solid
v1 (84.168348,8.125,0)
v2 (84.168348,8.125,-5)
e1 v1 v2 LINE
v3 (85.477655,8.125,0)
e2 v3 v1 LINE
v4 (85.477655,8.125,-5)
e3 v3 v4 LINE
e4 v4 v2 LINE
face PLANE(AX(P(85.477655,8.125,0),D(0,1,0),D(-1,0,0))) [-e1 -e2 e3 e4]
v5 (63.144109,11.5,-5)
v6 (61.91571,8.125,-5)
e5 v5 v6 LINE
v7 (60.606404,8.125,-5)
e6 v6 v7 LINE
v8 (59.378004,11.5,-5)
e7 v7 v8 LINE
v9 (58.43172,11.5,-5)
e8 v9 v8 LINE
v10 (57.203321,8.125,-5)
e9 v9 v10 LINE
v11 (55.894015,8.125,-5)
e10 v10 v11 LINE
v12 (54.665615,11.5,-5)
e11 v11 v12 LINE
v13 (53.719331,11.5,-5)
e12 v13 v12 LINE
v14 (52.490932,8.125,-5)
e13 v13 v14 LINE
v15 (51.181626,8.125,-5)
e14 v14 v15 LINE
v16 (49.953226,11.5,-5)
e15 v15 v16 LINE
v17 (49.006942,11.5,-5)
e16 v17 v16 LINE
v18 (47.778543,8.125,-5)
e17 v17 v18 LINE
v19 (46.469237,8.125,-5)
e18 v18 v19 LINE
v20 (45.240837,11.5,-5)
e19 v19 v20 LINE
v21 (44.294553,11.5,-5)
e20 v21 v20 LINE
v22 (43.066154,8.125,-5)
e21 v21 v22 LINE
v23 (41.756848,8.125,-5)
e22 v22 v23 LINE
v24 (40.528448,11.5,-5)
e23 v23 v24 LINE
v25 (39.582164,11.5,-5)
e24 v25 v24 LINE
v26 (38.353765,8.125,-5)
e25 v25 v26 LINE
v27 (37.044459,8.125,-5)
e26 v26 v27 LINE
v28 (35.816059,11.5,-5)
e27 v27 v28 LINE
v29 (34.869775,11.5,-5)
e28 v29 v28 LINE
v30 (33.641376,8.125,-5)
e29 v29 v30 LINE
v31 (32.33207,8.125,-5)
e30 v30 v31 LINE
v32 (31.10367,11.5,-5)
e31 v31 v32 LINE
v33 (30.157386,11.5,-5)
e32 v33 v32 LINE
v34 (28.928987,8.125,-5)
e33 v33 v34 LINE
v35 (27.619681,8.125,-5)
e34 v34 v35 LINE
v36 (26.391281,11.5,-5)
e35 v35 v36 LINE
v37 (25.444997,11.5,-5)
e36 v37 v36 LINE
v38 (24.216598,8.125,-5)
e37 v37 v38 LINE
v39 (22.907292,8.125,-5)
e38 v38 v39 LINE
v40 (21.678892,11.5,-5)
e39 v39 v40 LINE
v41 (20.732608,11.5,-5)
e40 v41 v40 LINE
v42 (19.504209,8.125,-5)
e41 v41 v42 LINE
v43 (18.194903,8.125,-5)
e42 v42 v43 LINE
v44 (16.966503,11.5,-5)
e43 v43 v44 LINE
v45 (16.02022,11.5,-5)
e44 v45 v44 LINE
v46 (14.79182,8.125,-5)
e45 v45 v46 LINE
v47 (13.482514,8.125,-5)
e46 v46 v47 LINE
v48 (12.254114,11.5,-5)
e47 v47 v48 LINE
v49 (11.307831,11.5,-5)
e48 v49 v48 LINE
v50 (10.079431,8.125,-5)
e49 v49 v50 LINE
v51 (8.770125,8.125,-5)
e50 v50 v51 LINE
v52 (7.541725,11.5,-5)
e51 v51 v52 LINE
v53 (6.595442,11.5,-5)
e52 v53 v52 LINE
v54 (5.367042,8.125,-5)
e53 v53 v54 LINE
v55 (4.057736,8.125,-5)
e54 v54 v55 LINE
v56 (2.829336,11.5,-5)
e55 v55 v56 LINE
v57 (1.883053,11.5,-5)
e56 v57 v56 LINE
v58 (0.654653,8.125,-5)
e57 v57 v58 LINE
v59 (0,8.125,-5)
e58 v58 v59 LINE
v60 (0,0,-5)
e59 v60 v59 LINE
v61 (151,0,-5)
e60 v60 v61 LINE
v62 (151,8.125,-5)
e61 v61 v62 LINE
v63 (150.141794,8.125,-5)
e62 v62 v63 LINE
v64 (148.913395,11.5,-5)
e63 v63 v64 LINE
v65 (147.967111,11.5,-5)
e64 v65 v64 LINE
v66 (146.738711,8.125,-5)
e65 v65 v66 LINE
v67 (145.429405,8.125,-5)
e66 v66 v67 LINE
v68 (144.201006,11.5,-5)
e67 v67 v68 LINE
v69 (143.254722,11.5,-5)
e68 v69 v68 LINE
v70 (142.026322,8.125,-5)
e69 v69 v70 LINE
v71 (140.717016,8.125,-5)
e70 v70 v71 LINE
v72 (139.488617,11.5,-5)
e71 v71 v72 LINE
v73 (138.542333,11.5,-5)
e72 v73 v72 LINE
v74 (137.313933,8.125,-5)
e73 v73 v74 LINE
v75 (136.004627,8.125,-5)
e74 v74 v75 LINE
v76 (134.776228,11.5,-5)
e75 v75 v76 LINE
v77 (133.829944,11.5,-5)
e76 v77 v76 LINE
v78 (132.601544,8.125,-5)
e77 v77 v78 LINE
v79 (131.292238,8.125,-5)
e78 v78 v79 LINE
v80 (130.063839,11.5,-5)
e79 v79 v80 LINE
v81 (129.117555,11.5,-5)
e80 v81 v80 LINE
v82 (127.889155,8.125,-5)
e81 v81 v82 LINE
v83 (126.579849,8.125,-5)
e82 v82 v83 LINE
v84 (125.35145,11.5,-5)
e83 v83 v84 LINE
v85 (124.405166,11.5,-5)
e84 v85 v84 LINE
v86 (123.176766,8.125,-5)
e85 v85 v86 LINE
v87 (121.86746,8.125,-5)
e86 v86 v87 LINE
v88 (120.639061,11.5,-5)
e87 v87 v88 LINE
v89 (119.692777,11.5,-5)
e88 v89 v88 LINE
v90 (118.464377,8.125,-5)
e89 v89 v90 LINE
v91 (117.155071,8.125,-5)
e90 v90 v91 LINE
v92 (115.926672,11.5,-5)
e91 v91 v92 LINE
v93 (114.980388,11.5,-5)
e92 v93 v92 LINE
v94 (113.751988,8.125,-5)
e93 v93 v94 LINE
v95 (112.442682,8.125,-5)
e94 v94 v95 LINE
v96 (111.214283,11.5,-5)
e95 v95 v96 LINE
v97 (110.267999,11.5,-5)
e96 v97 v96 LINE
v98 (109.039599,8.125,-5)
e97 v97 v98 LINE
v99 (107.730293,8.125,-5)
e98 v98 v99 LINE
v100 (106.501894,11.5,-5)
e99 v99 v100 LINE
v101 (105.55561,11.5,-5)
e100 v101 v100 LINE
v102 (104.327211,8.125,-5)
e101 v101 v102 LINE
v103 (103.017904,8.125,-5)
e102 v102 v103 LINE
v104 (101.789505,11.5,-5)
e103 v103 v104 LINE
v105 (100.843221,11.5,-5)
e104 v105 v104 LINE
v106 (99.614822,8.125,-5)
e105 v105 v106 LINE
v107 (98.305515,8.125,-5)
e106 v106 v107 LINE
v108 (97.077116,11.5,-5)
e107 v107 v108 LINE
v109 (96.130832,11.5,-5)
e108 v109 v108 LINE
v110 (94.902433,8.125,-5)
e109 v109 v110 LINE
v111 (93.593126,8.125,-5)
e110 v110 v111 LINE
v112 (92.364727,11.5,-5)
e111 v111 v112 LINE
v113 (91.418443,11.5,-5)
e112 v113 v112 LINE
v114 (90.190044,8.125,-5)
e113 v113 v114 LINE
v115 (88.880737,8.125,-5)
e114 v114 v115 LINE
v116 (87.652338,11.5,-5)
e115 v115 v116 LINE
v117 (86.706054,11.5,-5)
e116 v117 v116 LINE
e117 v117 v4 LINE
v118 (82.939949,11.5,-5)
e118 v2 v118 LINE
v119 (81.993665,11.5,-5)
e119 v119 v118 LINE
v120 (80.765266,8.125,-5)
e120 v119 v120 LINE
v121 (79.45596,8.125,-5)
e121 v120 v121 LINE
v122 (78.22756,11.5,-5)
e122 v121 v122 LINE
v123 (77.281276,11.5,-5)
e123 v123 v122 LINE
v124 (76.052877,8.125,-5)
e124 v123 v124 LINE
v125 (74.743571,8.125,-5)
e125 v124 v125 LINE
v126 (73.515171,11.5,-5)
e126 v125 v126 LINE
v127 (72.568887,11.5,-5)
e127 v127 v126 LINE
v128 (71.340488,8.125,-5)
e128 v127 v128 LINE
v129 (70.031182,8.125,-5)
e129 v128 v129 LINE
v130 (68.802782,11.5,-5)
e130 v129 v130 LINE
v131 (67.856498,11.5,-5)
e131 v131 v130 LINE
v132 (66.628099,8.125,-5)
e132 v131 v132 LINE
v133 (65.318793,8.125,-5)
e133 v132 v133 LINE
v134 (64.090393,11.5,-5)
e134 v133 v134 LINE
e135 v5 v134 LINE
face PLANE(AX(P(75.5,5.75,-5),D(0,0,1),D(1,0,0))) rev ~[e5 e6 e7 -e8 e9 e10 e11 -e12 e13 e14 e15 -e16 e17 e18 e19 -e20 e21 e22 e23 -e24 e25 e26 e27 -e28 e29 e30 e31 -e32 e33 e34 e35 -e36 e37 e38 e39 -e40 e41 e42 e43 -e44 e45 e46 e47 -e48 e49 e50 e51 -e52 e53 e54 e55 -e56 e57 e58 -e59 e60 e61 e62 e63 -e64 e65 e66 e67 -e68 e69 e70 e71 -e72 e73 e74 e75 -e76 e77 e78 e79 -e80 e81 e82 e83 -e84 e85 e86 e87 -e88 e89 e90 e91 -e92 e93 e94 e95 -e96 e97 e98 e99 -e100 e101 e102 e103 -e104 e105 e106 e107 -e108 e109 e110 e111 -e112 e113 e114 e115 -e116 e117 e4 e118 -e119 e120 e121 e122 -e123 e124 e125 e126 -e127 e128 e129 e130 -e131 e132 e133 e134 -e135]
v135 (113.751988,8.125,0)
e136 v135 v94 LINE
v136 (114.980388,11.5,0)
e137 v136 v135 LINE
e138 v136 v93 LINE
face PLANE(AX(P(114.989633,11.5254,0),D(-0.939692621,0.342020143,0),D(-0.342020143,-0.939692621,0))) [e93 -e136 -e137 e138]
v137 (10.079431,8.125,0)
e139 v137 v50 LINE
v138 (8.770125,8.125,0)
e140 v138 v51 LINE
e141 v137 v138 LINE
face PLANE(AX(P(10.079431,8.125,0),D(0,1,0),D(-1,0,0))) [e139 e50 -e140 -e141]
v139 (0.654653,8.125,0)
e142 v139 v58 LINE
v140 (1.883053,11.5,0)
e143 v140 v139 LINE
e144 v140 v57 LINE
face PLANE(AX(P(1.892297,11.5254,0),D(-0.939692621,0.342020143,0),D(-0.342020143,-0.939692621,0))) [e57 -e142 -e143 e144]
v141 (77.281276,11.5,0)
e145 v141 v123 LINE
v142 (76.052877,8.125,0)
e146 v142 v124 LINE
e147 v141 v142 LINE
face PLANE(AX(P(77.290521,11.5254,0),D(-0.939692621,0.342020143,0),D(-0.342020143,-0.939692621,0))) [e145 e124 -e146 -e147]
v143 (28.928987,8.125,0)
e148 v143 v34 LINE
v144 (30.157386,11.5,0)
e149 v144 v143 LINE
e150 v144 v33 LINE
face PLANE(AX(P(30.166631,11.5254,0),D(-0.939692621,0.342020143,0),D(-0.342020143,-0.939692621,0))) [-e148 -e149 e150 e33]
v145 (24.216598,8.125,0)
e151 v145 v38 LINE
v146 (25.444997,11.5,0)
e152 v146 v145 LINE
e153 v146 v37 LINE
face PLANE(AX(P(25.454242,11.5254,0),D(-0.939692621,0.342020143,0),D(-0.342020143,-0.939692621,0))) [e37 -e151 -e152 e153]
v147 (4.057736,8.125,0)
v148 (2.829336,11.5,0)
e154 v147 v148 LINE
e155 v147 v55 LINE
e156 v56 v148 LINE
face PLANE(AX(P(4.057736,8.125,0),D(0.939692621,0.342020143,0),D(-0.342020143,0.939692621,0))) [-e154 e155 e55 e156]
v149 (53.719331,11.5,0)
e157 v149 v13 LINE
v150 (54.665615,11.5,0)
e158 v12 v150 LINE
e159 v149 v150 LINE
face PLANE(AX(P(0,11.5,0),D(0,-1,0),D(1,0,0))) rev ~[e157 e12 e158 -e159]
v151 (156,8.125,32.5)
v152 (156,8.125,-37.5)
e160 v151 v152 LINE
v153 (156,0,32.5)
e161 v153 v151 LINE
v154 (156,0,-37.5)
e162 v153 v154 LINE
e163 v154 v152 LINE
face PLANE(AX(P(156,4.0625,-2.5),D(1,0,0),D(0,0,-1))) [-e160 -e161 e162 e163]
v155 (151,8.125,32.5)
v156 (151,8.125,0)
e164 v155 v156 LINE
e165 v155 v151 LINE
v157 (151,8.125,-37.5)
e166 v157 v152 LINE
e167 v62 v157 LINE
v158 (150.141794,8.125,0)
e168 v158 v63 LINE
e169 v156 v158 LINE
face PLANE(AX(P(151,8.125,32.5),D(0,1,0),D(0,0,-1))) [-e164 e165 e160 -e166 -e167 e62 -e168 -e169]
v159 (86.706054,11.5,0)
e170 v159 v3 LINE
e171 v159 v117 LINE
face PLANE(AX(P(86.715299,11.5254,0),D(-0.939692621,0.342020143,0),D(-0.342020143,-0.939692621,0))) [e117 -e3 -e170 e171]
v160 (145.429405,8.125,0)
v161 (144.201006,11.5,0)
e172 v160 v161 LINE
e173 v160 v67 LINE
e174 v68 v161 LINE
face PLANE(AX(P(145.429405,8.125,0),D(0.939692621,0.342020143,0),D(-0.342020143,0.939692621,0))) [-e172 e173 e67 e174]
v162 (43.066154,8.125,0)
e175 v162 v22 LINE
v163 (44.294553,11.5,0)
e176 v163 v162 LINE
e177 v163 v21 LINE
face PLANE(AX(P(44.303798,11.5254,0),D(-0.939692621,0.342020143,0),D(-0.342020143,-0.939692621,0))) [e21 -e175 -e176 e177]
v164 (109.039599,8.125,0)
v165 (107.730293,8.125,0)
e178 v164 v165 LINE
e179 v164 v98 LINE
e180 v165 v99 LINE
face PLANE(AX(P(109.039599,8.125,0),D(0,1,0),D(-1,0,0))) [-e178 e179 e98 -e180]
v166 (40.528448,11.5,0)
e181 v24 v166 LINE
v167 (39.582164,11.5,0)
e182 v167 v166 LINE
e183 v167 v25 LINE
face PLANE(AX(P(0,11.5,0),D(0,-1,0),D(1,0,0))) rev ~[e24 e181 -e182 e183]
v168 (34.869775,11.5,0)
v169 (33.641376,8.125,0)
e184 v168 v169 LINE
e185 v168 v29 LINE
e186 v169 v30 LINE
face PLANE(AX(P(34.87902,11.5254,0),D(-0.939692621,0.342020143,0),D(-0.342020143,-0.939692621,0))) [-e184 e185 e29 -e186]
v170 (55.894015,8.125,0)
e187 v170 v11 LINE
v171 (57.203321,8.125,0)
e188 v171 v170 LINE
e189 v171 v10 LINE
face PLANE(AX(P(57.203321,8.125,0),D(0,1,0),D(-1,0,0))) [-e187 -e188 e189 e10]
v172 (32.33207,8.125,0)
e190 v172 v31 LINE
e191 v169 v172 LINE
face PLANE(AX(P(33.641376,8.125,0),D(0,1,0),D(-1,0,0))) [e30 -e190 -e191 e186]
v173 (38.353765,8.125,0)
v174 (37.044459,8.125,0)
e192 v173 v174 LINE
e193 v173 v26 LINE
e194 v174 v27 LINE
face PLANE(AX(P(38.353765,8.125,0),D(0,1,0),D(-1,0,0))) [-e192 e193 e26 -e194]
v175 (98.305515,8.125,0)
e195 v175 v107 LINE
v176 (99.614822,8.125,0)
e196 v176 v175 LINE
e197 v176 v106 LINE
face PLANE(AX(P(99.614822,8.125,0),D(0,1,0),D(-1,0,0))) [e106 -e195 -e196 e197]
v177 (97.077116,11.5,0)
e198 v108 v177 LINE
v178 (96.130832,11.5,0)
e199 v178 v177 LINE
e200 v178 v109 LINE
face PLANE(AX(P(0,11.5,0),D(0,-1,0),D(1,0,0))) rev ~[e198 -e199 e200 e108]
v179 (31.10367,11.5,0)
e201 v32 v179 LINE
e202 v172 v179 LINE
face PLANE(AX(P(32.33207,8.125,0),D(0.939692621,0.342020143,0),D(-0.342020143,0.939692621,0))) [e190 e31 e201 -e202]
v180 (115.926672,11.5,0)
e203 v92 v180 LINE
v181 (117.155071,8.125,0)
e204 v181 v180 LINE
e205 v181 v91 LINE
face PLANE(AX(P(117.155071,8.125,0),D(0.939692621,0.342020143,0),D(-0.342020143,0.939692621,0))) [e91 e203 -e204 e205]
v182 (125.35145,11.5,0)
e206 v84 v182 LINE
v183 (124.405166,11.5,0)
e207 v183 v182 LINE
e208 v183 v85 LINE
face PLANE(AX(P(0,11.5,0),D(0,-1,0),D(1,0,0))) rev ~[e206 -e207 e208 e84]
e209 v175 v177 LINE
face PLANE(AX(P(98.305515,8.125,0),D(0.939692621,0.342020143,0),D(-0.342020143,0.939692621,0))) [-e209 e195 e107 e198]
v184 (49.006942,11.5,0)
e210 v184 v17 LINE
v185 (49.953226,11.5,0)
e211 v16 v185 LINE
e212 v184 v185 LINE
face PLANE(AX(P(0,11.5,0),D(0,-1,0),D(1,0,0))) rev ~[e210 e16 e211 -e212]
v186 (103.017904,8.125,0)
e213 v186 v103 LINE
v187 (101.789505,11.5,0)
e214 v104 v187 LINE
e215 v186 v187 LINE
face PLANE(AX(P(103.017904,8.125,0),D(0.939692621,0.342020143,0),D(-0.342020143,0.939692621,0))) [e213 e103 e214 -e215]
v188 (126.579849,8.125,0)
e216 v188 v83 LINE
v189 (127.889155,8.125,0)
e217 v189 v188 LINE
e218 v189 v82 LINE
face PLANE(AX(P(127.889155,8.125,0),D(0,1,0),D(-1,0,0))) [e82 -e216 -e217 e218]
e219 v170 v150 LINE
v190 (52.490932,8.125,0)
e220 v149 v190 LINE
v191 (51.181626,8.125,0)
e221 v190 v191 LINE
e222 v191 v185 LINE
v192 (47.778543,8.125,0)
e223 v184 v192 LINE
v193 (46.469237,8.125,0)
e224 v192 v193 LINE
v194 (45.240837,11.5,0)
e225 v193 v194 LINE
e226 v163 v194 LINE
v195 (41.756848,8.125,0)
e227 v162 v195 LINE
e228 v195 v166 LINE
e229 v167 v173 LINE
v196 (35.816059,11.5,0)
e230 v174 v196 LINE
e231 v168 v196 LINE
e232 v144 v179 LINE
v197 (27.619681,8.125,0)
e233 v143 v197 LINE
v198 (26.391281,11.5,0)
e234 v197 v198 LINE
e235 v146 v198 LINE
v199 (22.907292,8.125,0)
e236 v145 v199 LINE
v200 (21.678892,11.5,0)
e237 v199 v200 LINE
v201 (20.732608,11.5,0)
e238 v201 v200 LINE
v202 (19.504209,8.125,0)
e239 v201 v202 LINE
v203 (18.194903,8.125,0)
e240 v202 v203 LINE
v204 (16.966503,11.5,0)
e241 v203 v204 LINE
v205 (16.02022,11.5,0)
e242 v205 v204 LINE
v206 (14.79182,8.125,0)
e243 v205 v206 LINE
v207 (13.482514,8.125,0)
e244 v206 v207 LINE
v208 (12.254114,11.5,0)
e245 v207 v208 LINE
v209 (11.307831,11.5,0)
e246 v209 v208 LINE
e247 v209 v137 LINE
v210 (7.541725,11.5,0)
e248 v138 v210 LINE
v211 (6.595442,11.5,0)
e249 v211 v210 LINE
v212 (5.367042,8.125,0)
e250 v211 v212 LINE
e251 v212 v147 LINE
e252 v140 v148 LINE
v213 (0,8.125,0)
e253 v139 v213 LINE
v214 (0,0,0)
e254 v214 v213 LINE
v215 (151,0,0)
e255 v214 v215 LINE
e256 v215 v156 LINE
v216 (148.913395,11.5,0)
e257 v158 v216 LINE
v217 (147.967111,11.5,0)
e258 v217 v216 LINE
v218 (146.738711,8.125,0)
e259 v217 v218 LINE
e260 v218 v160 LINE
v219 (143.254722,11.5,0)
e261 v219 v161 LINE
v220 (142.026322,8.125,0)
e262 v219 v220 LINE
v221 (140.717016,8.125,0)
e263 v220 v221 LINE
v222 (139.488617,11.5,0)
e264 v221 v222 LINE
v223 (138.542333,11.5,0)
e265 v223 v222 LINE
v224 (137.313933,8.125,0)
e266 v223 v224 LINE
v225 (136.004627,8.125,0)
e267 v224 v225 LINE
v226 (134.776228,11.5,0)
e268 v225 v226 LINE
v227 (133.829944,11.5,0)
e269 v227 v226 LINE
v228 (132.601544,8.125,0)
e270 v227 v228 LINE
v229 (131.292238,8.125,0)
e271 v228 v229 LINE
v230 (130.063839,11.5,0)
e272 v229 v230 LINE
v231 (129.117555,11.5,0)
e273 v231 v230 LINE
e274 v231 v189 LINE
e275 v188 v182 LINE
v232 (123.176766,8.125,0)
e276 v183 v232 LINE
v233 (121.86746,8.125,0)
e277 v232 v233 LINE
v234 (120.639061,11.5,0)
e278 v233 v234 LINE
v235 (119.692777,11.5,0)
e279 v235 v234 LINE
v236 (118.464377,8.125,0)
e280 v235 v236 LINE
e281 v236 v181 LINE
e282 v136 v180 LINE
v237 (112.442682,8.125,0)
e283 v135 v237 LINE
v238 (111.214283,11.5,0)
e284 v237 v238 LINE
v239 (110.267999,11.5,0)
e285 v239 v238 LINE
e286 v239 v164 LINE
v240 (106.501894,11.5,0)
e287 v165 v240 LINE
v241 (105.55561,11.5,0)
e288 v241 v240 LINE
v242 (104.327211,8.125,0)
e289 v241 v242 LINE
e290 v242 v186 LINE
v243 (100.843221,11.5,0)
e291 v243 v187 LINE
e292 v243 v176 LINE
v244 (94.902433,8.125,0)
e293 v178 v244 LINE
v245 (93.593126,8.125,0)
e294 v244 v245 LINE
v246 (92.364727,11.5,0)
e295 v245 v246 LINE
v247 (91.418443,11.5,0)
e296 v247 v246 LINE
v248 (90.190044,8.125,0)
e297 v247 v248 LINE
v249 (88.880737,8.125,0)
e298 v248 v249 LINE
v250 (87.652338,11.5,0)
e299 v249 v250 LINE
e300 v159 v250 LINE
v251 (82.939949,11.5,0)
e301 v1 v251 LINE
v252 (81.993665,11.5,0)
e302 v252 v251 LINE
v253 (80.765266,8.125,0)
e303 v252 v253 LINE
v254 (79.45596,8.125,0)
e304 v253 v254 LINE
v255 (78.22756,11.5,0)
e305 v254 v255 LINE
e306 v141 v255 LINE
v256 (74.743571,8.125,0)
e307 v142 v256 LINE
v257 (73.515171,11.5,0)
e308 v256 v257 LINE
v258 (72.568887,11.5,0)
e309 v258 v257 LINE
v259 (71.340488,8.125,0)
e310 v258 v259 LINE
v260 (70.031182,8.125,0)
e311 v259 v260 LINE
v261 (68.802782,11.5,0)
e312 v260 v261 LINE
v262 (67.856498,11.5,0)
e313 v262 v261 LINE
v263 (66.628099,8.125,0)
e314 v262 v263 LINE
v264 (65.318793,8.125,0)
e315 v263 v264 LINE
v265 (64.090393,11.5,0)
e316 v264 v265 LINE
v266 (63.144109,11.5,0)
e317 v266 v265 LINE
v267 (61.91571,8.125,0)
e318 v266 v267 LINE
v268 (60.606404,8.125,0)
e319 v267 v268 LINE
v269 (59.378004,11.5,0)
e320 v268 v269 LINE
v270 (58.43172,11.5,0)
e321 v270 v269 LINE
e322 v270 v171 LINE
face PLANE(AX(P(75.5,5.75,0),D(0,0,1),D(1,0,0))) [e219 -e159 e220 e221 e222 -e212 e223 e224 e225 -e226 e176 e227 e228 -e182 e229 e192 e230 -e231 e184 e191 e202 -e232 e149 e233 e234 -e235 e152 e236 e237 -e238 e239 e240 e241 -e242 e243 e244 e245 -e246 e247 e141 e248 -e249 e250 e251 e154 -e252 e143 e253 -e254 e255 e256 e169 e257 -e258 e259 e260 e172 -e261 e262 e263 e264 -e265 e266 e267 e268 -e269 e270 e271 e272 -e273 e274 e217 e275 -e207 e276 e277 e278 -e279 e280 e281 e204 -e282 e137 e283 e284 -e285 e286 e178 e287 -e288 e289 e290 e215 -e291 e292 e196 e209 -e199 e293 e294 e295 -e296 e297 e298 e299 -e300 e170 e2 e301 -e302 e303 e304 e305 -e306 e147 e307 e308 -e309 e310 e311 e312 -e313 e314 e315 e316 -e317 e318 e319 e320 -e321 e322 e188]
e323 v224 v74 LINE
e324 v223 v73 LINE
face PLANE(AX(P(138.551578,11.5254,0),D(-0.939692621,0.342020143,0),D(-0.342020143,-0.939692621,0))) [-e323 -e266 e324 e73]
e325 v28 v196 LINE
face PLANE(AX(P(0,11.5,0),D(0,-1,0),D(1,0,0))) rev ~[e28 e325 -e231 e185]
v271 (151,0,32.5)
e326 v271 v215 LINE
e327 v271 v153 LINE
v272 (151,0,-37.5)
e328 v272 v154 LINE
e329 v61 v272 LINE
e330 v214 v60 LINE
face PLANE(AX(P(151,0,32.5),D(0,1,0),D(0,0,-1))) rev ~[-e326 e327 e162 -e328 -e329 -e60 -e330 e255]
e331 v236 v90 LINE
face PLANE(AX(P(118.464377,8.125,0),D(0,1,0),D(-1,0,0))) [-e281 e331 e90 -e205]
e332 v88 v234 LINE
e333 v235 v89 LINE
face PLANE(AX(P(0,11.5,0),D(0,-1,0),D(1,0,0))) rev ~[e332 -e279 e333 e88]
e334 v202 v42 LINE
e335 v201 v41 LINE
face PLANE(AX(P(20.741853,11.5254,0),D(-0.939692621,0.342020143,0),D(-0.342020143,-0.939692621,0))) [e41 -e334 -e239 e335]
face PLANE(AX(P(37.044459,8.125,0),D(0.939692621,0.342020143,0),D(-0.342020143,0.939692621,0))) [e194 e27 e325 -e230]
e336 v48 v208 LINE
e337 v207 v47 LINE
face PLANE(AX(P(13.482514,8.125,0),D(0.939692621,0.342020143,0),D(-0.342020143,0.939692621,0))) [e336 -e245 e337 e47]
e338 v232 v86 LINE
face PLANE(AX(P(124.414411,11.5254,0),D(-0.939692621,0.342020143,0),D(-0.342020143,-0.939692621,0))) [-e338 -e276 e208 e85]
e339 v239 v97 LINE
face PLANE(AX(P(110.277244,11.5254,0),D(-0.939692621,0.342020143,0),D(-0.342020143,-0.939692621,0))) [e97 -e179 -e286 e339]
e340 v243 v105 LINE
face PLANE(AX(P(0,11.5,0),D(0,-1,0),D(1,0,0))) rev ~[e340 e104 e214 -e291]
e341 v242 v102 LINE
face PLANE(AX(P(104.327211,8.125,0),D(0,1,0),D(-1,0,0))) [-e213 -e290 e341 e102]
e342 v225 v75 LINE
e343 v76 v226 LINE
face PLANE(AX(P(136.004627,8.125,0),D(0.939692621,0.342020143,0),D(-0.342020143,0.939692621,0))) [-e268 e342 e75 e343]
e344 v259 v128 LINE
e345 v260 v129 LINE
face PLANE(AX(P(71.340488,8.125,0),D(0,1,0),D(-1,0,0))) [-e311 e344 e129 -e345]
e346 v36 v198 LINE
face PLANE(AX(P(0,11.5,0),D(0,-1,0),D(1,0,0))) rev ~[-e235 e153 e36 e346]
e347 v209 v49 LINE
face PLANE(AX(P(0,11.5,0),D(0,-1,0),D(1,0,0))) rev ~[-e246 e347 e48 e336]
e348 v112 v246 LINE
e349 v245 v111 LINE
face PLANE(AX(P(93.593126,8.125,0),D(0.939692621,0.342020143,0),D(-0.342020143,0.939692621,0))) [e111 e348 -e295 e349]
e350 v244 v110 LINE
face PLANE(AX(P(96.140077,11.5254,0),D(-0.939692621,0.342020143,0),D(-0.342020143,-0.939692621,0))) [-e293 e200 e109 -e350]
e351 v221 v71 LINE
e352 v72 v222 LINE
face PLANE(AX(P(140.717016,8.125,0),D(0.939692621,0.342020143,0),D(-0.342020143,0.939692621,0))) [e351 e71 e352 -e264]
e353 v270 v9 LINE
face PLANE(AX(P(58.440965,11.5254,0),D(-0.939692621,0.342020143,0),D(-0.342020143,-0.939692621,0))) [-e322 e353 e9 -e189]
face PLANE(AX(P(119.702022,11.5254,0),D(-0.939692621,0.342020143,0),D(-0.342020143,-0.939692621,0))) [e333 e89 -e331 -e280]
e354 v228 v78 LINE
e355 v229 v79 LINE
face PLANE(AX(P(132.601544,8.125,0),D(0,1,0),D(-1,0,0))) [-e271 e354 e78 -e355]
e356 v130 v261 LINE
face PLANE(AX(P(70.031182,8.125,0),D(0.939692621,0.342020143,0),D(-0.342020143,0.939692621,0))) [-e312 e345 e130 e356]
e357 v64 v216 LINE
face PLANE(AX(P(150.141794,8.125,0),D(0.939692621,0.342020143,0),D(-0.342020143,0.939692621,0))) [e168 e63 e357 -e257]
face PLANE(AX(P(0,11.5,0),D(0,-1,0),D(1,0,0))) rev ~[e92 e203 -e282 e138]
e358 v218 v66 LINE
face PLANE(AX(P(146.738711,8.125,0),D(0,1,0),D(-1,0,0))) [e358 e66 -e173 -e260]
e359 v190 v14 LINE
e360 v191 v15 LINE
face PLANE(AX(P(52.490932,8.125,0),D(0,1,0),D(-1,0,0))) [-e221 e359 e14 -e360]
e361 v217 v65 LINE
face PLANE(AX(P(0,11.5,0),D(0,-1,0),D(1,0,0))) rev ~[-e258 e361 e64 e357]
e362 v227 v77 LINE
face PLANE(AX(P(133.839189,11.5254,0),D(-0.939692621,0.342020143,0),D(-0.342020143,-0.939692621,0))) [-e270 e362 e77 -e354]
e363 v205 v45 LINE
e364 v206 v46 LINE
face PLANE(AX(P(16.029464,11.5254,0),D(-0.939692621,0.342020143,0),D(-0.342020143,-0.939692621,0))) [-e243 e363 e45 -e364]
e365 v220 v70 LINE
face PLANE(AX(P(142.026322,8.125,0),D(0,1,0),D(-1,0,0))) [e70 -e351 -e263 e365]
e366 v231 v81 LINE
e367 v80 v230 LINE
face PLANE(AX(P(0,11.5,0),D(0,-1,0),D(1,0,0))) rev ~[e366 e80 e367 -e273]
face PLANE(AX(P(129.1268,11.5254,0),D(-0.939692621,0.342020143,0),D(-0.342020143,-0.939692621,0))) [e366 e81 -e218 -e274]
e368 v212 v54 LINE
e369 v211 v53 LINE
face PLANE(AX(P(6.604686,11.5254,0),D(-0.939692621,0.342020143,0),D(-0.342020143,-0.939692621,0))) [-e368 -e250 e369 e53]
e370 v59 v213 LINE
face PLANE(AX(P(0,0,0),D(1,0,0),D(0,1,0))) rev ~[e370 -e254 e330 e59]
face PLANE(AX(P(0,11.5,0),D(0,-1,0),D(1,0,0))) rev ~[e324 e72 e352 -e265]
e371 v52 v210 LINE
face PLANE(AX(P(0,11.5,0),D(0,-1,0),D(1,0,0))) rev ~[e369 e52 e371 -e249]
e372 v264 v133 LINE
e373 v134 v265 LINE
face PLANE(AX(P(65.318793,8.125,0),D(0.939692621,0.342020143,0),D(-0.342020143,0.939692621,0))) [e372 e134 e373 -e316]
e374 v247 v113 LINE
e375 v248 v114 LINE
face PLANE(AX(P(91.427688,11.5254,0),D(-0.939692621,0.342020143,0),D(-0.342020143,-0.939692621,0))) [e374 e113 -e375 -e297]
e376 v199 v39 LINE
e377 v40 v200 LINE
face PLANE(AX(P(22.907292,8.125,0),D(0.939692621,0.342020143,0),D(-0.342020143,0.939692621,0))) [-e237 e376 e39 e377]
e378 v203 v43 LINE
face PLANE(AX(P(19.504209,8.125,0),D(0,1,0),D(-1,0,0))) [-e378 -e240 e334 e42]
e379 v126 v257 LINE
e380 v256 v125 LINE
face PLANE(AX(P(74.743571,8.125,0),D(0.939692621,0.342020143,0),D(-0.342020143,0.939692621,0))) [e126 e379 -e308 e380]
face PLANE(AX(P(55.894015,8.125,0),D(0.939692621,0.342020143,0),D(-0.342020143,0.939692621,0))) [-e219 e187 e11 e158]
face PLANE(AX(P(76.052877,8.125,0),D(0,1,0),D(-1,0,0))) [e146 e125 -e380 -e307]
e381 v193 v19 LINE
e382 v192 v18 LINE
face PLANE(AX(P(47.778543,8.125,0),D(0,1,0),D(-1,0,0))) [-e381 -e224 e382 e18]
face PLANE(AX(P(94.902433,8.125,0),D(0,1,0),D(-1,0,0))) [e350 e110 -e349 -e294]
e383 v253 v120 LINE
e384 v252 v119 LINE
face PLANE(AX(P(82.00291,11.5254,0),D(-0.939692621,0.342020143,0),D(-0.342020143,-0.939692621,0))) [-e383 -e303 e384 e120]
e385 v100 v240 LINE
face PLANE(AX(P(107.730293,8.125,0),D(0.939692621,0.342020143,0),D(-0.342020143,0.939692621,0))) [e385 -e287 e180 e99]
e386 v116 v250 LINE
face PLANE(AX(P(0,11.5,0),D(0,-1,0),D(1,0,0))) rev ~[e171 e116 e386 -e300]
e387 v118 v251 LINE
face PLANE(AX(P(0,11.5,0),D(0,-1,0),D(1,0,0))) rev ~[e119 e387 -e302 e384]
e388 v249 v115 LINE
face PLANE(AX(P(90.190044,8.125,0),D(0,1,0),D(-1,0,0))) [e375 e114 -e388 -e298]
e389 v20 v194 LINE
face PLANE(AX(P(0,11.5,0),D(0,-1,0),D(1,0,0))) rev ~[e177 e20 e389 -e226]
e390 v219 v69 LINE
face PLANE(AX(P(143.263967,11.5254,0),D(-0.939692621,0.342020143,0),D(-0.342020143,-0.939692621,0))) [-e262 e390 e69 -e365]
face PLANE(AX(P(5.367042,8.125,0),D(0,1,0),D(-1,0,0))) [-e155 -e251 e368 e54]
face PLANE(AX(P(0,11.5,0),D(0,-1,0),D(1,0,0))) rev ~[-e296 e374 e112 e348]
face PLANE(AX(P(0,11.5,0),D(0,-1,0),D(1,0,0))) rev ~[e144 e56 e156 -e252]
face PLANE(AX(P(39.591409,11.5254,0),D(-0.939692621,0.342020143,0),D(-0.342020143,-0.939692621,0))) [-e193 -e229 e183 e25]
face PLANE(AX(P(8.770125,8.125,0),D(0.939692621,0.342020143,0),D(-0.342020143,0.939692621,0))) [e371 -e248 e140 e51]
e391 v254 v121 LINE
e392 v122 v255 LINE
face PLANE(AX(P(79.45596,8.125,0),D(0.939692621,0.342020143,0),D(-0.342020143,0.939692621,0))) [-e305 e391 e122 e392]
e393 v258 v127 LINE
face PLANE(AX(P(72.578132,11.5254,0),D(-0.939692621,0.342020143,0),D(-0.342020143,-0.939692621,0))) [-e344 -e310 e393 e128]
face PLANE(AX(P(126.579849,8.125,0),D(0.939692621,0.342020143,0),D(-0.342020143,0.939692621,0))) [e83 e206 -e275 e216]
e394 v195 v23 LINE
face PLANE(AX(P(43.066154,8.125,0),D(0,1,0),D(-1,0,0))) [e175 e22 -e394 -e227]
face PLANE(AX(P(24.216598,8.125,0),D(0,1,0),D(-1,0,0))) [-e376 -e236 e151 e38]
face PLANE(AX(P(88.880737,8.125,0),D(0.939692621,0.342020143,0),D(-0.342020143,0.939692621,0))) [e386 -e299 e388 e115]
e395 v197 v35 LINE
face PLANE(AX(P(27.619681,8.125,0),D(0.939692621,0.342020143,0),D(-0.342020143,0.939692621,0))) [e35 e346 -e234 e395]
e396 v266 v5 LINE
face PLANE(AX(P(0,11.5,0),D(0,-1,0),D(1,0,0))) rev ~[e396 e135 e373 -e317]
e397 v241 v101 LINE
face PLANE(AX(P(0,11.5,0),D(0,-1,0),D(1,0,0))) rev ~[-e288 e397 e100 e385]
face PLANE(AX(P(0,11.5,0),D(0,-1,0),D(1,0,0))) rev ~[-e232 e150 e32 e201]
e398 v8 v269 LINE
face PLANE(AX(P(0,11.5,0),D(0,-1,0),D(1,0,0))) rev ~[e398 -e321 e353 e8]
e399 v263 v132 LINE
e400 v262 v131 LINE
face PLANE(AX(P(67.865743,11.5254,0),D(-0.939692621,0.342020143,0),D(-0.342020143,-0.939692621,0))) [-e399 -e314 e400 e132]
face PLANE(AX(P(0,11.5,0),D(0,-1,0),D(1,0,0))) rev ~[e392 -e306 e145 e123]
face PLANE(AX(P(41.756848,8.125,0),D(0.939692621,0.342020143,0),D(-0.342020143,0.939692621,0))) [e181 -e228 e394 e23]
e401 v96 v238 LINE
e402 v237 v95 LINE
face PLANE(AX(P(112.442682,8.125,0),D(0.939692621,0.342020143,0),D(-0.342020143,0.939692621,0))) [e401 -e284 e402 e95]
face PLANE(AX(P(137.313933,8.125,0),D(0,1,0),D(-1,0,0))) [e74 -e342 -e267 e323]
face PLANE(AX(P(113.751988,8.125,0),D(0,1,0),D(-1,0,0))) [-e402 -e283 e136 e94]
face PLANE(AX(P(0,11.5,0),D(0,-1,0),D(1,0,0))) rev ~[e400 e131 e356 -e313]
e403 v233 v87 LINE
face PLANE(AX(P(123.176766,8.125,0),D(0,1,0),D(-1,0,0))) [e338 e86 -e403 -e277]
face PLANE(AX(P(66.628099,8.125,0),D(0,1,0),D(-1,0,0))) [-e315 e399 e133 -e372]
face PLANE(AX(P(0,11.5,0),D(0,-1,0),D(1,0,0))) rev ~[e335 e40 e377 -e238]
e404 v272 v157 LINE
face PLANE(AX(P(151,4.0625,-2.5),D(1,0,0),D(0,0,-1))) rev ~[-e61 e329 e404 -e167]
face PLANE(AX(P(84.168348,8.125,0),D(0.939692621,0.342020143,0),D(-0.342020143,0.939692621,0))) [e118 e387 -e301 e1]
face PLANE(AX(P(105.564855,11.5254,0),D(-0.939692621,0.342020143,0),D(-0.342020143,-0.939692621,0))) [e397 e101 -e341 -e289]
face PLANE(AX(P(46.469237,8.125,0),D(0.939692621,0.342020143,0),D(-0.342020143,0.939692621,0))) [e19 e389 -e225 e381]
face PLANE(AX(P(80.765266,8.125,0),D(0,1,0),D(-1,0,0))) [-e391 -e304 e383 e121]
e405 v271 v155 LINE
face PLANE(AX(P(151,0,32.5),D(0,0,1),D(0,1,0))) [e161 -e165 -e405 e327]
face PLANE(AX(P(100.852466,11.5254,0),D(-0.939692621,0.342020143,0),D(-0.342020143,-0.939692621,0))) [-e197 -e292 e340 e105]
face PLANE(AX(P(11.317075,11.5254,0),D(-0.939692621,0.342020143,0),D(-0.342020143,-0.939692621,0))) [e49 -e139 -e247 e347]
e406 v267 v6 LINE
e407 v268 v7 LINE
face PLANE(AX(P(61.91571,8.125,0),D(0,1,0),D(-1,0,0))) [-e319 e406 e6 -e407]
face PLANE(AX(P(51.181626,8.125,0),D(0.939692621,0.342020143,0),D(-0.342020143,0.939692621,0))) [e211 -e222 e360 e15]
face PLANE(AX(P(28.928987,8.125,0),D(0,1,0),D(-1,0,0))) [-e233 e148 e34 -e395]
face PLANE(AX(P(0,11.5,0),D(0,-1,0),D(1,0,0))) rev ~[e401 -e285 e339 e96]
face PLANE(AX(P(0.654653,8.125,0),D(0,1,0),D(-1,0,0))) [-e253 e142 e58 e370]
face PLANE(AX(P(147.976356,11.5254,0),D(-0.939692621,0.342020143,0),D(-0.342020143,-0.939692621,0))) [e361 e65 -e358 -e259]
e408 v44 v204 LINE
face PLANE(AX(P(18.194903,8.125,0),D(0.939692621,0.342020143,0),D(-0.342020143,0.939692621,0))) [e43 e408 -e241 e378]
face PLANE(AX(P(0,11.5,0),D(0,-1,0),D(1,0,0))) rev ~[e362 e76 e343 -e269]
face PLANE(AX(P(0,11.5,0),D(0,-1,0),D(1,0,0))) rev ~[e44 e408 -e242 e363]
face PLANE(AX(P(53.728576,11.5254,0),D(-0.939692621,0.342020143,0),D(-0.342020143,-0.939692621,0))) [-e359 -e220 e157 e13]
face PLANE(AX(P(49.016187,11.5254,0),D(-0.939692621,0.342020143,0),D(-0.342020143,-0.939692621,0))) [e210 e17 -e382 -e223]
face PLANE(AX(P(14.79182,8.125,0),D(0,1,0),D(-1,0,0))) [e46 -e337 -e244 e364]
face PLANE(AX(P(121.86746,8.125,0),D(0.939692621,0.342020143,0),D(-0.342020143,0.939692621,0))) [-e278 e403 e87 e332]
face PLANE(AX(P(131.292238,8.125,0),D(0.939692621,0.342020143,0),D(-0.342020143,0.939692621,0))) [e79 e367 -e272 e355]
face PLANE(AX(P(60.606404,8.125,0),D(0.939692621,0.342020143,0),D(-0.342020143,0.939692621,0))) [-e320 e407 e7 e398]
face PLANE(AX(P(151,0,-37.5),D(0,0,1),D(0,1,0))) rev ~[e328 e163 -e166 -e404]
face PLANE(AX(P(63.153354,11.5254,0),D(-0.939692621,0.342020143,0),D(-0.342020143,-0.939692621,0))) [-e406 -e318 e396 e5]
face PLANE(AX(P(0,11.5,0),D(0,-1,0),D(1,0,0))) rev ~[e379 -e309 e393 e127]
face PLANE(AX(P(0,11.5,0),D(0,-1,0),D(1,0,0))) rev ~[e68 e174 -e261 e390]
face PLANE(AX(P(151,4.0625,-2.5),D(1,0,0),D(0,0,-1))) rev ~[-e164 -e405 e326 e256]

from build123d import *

# Parameters (mm, degrees)
BLANKSKE_W              = 151
BLANKSKE_H              = 11.5
BLANK_DEPTH             = 5
TOOTHCUTSIM_DEPTH       = 152.519800686
TEETHCUTS_COUNT         = 33
TEETHCUTS_PITCH         = 4.712388975
CROQUIS1_W              = 70
CROQUIS1_H              = 8.125
SALIENTE_EXTRUIR1_DEPTH = 5


with BuildPart() as part:
    # BlankSke → Blank (new body)
    with BuildSketch(Plane.XY):
        with Locations((75.5, 5.75)):
            Rectangle(BLANKSKE_W, BLANKSKE_H)
    extrude(amount=-BLANK_DEPTH)

    # TooCutSkeSim → ToothCutSim (cut, through all)
    with BuildSketch(Plane.XY):
        Polygon((0.654653055, 8.125), (-0.654653055, 8.125), (-1.892297439, 11.5254), (1.892297439, 11.5254), align=None)
    toothcutsim = extrude(amount=-TOOTHCUTSIM_DEPTH, mode=Mode.SUBTRACT)

    # TeethCuts: ToothCutSim ×33
    with Locations(*[(i * TEETHCUTS_PITCH, 0, 0) for i in range(1, TEETHCUTS_COUNT)]):
        add(toothcutsim, mode=Mode.SUBTRACT)

    # Croquis1 → Saliente-Extruir1 (add)
    with BuildSketch(Plane(origin=(151, 0, 0), x_dir=(0, 0, -1), z_dir=(1, 0, 0))):
        with Locations((2.5, 4.0625)):
            Rectangle(CROQUIS1_W, CROQUIS1_H)
    extrude(amount=SALIENTE_EXTRUIR1_DEPTH)


solid = part.part
